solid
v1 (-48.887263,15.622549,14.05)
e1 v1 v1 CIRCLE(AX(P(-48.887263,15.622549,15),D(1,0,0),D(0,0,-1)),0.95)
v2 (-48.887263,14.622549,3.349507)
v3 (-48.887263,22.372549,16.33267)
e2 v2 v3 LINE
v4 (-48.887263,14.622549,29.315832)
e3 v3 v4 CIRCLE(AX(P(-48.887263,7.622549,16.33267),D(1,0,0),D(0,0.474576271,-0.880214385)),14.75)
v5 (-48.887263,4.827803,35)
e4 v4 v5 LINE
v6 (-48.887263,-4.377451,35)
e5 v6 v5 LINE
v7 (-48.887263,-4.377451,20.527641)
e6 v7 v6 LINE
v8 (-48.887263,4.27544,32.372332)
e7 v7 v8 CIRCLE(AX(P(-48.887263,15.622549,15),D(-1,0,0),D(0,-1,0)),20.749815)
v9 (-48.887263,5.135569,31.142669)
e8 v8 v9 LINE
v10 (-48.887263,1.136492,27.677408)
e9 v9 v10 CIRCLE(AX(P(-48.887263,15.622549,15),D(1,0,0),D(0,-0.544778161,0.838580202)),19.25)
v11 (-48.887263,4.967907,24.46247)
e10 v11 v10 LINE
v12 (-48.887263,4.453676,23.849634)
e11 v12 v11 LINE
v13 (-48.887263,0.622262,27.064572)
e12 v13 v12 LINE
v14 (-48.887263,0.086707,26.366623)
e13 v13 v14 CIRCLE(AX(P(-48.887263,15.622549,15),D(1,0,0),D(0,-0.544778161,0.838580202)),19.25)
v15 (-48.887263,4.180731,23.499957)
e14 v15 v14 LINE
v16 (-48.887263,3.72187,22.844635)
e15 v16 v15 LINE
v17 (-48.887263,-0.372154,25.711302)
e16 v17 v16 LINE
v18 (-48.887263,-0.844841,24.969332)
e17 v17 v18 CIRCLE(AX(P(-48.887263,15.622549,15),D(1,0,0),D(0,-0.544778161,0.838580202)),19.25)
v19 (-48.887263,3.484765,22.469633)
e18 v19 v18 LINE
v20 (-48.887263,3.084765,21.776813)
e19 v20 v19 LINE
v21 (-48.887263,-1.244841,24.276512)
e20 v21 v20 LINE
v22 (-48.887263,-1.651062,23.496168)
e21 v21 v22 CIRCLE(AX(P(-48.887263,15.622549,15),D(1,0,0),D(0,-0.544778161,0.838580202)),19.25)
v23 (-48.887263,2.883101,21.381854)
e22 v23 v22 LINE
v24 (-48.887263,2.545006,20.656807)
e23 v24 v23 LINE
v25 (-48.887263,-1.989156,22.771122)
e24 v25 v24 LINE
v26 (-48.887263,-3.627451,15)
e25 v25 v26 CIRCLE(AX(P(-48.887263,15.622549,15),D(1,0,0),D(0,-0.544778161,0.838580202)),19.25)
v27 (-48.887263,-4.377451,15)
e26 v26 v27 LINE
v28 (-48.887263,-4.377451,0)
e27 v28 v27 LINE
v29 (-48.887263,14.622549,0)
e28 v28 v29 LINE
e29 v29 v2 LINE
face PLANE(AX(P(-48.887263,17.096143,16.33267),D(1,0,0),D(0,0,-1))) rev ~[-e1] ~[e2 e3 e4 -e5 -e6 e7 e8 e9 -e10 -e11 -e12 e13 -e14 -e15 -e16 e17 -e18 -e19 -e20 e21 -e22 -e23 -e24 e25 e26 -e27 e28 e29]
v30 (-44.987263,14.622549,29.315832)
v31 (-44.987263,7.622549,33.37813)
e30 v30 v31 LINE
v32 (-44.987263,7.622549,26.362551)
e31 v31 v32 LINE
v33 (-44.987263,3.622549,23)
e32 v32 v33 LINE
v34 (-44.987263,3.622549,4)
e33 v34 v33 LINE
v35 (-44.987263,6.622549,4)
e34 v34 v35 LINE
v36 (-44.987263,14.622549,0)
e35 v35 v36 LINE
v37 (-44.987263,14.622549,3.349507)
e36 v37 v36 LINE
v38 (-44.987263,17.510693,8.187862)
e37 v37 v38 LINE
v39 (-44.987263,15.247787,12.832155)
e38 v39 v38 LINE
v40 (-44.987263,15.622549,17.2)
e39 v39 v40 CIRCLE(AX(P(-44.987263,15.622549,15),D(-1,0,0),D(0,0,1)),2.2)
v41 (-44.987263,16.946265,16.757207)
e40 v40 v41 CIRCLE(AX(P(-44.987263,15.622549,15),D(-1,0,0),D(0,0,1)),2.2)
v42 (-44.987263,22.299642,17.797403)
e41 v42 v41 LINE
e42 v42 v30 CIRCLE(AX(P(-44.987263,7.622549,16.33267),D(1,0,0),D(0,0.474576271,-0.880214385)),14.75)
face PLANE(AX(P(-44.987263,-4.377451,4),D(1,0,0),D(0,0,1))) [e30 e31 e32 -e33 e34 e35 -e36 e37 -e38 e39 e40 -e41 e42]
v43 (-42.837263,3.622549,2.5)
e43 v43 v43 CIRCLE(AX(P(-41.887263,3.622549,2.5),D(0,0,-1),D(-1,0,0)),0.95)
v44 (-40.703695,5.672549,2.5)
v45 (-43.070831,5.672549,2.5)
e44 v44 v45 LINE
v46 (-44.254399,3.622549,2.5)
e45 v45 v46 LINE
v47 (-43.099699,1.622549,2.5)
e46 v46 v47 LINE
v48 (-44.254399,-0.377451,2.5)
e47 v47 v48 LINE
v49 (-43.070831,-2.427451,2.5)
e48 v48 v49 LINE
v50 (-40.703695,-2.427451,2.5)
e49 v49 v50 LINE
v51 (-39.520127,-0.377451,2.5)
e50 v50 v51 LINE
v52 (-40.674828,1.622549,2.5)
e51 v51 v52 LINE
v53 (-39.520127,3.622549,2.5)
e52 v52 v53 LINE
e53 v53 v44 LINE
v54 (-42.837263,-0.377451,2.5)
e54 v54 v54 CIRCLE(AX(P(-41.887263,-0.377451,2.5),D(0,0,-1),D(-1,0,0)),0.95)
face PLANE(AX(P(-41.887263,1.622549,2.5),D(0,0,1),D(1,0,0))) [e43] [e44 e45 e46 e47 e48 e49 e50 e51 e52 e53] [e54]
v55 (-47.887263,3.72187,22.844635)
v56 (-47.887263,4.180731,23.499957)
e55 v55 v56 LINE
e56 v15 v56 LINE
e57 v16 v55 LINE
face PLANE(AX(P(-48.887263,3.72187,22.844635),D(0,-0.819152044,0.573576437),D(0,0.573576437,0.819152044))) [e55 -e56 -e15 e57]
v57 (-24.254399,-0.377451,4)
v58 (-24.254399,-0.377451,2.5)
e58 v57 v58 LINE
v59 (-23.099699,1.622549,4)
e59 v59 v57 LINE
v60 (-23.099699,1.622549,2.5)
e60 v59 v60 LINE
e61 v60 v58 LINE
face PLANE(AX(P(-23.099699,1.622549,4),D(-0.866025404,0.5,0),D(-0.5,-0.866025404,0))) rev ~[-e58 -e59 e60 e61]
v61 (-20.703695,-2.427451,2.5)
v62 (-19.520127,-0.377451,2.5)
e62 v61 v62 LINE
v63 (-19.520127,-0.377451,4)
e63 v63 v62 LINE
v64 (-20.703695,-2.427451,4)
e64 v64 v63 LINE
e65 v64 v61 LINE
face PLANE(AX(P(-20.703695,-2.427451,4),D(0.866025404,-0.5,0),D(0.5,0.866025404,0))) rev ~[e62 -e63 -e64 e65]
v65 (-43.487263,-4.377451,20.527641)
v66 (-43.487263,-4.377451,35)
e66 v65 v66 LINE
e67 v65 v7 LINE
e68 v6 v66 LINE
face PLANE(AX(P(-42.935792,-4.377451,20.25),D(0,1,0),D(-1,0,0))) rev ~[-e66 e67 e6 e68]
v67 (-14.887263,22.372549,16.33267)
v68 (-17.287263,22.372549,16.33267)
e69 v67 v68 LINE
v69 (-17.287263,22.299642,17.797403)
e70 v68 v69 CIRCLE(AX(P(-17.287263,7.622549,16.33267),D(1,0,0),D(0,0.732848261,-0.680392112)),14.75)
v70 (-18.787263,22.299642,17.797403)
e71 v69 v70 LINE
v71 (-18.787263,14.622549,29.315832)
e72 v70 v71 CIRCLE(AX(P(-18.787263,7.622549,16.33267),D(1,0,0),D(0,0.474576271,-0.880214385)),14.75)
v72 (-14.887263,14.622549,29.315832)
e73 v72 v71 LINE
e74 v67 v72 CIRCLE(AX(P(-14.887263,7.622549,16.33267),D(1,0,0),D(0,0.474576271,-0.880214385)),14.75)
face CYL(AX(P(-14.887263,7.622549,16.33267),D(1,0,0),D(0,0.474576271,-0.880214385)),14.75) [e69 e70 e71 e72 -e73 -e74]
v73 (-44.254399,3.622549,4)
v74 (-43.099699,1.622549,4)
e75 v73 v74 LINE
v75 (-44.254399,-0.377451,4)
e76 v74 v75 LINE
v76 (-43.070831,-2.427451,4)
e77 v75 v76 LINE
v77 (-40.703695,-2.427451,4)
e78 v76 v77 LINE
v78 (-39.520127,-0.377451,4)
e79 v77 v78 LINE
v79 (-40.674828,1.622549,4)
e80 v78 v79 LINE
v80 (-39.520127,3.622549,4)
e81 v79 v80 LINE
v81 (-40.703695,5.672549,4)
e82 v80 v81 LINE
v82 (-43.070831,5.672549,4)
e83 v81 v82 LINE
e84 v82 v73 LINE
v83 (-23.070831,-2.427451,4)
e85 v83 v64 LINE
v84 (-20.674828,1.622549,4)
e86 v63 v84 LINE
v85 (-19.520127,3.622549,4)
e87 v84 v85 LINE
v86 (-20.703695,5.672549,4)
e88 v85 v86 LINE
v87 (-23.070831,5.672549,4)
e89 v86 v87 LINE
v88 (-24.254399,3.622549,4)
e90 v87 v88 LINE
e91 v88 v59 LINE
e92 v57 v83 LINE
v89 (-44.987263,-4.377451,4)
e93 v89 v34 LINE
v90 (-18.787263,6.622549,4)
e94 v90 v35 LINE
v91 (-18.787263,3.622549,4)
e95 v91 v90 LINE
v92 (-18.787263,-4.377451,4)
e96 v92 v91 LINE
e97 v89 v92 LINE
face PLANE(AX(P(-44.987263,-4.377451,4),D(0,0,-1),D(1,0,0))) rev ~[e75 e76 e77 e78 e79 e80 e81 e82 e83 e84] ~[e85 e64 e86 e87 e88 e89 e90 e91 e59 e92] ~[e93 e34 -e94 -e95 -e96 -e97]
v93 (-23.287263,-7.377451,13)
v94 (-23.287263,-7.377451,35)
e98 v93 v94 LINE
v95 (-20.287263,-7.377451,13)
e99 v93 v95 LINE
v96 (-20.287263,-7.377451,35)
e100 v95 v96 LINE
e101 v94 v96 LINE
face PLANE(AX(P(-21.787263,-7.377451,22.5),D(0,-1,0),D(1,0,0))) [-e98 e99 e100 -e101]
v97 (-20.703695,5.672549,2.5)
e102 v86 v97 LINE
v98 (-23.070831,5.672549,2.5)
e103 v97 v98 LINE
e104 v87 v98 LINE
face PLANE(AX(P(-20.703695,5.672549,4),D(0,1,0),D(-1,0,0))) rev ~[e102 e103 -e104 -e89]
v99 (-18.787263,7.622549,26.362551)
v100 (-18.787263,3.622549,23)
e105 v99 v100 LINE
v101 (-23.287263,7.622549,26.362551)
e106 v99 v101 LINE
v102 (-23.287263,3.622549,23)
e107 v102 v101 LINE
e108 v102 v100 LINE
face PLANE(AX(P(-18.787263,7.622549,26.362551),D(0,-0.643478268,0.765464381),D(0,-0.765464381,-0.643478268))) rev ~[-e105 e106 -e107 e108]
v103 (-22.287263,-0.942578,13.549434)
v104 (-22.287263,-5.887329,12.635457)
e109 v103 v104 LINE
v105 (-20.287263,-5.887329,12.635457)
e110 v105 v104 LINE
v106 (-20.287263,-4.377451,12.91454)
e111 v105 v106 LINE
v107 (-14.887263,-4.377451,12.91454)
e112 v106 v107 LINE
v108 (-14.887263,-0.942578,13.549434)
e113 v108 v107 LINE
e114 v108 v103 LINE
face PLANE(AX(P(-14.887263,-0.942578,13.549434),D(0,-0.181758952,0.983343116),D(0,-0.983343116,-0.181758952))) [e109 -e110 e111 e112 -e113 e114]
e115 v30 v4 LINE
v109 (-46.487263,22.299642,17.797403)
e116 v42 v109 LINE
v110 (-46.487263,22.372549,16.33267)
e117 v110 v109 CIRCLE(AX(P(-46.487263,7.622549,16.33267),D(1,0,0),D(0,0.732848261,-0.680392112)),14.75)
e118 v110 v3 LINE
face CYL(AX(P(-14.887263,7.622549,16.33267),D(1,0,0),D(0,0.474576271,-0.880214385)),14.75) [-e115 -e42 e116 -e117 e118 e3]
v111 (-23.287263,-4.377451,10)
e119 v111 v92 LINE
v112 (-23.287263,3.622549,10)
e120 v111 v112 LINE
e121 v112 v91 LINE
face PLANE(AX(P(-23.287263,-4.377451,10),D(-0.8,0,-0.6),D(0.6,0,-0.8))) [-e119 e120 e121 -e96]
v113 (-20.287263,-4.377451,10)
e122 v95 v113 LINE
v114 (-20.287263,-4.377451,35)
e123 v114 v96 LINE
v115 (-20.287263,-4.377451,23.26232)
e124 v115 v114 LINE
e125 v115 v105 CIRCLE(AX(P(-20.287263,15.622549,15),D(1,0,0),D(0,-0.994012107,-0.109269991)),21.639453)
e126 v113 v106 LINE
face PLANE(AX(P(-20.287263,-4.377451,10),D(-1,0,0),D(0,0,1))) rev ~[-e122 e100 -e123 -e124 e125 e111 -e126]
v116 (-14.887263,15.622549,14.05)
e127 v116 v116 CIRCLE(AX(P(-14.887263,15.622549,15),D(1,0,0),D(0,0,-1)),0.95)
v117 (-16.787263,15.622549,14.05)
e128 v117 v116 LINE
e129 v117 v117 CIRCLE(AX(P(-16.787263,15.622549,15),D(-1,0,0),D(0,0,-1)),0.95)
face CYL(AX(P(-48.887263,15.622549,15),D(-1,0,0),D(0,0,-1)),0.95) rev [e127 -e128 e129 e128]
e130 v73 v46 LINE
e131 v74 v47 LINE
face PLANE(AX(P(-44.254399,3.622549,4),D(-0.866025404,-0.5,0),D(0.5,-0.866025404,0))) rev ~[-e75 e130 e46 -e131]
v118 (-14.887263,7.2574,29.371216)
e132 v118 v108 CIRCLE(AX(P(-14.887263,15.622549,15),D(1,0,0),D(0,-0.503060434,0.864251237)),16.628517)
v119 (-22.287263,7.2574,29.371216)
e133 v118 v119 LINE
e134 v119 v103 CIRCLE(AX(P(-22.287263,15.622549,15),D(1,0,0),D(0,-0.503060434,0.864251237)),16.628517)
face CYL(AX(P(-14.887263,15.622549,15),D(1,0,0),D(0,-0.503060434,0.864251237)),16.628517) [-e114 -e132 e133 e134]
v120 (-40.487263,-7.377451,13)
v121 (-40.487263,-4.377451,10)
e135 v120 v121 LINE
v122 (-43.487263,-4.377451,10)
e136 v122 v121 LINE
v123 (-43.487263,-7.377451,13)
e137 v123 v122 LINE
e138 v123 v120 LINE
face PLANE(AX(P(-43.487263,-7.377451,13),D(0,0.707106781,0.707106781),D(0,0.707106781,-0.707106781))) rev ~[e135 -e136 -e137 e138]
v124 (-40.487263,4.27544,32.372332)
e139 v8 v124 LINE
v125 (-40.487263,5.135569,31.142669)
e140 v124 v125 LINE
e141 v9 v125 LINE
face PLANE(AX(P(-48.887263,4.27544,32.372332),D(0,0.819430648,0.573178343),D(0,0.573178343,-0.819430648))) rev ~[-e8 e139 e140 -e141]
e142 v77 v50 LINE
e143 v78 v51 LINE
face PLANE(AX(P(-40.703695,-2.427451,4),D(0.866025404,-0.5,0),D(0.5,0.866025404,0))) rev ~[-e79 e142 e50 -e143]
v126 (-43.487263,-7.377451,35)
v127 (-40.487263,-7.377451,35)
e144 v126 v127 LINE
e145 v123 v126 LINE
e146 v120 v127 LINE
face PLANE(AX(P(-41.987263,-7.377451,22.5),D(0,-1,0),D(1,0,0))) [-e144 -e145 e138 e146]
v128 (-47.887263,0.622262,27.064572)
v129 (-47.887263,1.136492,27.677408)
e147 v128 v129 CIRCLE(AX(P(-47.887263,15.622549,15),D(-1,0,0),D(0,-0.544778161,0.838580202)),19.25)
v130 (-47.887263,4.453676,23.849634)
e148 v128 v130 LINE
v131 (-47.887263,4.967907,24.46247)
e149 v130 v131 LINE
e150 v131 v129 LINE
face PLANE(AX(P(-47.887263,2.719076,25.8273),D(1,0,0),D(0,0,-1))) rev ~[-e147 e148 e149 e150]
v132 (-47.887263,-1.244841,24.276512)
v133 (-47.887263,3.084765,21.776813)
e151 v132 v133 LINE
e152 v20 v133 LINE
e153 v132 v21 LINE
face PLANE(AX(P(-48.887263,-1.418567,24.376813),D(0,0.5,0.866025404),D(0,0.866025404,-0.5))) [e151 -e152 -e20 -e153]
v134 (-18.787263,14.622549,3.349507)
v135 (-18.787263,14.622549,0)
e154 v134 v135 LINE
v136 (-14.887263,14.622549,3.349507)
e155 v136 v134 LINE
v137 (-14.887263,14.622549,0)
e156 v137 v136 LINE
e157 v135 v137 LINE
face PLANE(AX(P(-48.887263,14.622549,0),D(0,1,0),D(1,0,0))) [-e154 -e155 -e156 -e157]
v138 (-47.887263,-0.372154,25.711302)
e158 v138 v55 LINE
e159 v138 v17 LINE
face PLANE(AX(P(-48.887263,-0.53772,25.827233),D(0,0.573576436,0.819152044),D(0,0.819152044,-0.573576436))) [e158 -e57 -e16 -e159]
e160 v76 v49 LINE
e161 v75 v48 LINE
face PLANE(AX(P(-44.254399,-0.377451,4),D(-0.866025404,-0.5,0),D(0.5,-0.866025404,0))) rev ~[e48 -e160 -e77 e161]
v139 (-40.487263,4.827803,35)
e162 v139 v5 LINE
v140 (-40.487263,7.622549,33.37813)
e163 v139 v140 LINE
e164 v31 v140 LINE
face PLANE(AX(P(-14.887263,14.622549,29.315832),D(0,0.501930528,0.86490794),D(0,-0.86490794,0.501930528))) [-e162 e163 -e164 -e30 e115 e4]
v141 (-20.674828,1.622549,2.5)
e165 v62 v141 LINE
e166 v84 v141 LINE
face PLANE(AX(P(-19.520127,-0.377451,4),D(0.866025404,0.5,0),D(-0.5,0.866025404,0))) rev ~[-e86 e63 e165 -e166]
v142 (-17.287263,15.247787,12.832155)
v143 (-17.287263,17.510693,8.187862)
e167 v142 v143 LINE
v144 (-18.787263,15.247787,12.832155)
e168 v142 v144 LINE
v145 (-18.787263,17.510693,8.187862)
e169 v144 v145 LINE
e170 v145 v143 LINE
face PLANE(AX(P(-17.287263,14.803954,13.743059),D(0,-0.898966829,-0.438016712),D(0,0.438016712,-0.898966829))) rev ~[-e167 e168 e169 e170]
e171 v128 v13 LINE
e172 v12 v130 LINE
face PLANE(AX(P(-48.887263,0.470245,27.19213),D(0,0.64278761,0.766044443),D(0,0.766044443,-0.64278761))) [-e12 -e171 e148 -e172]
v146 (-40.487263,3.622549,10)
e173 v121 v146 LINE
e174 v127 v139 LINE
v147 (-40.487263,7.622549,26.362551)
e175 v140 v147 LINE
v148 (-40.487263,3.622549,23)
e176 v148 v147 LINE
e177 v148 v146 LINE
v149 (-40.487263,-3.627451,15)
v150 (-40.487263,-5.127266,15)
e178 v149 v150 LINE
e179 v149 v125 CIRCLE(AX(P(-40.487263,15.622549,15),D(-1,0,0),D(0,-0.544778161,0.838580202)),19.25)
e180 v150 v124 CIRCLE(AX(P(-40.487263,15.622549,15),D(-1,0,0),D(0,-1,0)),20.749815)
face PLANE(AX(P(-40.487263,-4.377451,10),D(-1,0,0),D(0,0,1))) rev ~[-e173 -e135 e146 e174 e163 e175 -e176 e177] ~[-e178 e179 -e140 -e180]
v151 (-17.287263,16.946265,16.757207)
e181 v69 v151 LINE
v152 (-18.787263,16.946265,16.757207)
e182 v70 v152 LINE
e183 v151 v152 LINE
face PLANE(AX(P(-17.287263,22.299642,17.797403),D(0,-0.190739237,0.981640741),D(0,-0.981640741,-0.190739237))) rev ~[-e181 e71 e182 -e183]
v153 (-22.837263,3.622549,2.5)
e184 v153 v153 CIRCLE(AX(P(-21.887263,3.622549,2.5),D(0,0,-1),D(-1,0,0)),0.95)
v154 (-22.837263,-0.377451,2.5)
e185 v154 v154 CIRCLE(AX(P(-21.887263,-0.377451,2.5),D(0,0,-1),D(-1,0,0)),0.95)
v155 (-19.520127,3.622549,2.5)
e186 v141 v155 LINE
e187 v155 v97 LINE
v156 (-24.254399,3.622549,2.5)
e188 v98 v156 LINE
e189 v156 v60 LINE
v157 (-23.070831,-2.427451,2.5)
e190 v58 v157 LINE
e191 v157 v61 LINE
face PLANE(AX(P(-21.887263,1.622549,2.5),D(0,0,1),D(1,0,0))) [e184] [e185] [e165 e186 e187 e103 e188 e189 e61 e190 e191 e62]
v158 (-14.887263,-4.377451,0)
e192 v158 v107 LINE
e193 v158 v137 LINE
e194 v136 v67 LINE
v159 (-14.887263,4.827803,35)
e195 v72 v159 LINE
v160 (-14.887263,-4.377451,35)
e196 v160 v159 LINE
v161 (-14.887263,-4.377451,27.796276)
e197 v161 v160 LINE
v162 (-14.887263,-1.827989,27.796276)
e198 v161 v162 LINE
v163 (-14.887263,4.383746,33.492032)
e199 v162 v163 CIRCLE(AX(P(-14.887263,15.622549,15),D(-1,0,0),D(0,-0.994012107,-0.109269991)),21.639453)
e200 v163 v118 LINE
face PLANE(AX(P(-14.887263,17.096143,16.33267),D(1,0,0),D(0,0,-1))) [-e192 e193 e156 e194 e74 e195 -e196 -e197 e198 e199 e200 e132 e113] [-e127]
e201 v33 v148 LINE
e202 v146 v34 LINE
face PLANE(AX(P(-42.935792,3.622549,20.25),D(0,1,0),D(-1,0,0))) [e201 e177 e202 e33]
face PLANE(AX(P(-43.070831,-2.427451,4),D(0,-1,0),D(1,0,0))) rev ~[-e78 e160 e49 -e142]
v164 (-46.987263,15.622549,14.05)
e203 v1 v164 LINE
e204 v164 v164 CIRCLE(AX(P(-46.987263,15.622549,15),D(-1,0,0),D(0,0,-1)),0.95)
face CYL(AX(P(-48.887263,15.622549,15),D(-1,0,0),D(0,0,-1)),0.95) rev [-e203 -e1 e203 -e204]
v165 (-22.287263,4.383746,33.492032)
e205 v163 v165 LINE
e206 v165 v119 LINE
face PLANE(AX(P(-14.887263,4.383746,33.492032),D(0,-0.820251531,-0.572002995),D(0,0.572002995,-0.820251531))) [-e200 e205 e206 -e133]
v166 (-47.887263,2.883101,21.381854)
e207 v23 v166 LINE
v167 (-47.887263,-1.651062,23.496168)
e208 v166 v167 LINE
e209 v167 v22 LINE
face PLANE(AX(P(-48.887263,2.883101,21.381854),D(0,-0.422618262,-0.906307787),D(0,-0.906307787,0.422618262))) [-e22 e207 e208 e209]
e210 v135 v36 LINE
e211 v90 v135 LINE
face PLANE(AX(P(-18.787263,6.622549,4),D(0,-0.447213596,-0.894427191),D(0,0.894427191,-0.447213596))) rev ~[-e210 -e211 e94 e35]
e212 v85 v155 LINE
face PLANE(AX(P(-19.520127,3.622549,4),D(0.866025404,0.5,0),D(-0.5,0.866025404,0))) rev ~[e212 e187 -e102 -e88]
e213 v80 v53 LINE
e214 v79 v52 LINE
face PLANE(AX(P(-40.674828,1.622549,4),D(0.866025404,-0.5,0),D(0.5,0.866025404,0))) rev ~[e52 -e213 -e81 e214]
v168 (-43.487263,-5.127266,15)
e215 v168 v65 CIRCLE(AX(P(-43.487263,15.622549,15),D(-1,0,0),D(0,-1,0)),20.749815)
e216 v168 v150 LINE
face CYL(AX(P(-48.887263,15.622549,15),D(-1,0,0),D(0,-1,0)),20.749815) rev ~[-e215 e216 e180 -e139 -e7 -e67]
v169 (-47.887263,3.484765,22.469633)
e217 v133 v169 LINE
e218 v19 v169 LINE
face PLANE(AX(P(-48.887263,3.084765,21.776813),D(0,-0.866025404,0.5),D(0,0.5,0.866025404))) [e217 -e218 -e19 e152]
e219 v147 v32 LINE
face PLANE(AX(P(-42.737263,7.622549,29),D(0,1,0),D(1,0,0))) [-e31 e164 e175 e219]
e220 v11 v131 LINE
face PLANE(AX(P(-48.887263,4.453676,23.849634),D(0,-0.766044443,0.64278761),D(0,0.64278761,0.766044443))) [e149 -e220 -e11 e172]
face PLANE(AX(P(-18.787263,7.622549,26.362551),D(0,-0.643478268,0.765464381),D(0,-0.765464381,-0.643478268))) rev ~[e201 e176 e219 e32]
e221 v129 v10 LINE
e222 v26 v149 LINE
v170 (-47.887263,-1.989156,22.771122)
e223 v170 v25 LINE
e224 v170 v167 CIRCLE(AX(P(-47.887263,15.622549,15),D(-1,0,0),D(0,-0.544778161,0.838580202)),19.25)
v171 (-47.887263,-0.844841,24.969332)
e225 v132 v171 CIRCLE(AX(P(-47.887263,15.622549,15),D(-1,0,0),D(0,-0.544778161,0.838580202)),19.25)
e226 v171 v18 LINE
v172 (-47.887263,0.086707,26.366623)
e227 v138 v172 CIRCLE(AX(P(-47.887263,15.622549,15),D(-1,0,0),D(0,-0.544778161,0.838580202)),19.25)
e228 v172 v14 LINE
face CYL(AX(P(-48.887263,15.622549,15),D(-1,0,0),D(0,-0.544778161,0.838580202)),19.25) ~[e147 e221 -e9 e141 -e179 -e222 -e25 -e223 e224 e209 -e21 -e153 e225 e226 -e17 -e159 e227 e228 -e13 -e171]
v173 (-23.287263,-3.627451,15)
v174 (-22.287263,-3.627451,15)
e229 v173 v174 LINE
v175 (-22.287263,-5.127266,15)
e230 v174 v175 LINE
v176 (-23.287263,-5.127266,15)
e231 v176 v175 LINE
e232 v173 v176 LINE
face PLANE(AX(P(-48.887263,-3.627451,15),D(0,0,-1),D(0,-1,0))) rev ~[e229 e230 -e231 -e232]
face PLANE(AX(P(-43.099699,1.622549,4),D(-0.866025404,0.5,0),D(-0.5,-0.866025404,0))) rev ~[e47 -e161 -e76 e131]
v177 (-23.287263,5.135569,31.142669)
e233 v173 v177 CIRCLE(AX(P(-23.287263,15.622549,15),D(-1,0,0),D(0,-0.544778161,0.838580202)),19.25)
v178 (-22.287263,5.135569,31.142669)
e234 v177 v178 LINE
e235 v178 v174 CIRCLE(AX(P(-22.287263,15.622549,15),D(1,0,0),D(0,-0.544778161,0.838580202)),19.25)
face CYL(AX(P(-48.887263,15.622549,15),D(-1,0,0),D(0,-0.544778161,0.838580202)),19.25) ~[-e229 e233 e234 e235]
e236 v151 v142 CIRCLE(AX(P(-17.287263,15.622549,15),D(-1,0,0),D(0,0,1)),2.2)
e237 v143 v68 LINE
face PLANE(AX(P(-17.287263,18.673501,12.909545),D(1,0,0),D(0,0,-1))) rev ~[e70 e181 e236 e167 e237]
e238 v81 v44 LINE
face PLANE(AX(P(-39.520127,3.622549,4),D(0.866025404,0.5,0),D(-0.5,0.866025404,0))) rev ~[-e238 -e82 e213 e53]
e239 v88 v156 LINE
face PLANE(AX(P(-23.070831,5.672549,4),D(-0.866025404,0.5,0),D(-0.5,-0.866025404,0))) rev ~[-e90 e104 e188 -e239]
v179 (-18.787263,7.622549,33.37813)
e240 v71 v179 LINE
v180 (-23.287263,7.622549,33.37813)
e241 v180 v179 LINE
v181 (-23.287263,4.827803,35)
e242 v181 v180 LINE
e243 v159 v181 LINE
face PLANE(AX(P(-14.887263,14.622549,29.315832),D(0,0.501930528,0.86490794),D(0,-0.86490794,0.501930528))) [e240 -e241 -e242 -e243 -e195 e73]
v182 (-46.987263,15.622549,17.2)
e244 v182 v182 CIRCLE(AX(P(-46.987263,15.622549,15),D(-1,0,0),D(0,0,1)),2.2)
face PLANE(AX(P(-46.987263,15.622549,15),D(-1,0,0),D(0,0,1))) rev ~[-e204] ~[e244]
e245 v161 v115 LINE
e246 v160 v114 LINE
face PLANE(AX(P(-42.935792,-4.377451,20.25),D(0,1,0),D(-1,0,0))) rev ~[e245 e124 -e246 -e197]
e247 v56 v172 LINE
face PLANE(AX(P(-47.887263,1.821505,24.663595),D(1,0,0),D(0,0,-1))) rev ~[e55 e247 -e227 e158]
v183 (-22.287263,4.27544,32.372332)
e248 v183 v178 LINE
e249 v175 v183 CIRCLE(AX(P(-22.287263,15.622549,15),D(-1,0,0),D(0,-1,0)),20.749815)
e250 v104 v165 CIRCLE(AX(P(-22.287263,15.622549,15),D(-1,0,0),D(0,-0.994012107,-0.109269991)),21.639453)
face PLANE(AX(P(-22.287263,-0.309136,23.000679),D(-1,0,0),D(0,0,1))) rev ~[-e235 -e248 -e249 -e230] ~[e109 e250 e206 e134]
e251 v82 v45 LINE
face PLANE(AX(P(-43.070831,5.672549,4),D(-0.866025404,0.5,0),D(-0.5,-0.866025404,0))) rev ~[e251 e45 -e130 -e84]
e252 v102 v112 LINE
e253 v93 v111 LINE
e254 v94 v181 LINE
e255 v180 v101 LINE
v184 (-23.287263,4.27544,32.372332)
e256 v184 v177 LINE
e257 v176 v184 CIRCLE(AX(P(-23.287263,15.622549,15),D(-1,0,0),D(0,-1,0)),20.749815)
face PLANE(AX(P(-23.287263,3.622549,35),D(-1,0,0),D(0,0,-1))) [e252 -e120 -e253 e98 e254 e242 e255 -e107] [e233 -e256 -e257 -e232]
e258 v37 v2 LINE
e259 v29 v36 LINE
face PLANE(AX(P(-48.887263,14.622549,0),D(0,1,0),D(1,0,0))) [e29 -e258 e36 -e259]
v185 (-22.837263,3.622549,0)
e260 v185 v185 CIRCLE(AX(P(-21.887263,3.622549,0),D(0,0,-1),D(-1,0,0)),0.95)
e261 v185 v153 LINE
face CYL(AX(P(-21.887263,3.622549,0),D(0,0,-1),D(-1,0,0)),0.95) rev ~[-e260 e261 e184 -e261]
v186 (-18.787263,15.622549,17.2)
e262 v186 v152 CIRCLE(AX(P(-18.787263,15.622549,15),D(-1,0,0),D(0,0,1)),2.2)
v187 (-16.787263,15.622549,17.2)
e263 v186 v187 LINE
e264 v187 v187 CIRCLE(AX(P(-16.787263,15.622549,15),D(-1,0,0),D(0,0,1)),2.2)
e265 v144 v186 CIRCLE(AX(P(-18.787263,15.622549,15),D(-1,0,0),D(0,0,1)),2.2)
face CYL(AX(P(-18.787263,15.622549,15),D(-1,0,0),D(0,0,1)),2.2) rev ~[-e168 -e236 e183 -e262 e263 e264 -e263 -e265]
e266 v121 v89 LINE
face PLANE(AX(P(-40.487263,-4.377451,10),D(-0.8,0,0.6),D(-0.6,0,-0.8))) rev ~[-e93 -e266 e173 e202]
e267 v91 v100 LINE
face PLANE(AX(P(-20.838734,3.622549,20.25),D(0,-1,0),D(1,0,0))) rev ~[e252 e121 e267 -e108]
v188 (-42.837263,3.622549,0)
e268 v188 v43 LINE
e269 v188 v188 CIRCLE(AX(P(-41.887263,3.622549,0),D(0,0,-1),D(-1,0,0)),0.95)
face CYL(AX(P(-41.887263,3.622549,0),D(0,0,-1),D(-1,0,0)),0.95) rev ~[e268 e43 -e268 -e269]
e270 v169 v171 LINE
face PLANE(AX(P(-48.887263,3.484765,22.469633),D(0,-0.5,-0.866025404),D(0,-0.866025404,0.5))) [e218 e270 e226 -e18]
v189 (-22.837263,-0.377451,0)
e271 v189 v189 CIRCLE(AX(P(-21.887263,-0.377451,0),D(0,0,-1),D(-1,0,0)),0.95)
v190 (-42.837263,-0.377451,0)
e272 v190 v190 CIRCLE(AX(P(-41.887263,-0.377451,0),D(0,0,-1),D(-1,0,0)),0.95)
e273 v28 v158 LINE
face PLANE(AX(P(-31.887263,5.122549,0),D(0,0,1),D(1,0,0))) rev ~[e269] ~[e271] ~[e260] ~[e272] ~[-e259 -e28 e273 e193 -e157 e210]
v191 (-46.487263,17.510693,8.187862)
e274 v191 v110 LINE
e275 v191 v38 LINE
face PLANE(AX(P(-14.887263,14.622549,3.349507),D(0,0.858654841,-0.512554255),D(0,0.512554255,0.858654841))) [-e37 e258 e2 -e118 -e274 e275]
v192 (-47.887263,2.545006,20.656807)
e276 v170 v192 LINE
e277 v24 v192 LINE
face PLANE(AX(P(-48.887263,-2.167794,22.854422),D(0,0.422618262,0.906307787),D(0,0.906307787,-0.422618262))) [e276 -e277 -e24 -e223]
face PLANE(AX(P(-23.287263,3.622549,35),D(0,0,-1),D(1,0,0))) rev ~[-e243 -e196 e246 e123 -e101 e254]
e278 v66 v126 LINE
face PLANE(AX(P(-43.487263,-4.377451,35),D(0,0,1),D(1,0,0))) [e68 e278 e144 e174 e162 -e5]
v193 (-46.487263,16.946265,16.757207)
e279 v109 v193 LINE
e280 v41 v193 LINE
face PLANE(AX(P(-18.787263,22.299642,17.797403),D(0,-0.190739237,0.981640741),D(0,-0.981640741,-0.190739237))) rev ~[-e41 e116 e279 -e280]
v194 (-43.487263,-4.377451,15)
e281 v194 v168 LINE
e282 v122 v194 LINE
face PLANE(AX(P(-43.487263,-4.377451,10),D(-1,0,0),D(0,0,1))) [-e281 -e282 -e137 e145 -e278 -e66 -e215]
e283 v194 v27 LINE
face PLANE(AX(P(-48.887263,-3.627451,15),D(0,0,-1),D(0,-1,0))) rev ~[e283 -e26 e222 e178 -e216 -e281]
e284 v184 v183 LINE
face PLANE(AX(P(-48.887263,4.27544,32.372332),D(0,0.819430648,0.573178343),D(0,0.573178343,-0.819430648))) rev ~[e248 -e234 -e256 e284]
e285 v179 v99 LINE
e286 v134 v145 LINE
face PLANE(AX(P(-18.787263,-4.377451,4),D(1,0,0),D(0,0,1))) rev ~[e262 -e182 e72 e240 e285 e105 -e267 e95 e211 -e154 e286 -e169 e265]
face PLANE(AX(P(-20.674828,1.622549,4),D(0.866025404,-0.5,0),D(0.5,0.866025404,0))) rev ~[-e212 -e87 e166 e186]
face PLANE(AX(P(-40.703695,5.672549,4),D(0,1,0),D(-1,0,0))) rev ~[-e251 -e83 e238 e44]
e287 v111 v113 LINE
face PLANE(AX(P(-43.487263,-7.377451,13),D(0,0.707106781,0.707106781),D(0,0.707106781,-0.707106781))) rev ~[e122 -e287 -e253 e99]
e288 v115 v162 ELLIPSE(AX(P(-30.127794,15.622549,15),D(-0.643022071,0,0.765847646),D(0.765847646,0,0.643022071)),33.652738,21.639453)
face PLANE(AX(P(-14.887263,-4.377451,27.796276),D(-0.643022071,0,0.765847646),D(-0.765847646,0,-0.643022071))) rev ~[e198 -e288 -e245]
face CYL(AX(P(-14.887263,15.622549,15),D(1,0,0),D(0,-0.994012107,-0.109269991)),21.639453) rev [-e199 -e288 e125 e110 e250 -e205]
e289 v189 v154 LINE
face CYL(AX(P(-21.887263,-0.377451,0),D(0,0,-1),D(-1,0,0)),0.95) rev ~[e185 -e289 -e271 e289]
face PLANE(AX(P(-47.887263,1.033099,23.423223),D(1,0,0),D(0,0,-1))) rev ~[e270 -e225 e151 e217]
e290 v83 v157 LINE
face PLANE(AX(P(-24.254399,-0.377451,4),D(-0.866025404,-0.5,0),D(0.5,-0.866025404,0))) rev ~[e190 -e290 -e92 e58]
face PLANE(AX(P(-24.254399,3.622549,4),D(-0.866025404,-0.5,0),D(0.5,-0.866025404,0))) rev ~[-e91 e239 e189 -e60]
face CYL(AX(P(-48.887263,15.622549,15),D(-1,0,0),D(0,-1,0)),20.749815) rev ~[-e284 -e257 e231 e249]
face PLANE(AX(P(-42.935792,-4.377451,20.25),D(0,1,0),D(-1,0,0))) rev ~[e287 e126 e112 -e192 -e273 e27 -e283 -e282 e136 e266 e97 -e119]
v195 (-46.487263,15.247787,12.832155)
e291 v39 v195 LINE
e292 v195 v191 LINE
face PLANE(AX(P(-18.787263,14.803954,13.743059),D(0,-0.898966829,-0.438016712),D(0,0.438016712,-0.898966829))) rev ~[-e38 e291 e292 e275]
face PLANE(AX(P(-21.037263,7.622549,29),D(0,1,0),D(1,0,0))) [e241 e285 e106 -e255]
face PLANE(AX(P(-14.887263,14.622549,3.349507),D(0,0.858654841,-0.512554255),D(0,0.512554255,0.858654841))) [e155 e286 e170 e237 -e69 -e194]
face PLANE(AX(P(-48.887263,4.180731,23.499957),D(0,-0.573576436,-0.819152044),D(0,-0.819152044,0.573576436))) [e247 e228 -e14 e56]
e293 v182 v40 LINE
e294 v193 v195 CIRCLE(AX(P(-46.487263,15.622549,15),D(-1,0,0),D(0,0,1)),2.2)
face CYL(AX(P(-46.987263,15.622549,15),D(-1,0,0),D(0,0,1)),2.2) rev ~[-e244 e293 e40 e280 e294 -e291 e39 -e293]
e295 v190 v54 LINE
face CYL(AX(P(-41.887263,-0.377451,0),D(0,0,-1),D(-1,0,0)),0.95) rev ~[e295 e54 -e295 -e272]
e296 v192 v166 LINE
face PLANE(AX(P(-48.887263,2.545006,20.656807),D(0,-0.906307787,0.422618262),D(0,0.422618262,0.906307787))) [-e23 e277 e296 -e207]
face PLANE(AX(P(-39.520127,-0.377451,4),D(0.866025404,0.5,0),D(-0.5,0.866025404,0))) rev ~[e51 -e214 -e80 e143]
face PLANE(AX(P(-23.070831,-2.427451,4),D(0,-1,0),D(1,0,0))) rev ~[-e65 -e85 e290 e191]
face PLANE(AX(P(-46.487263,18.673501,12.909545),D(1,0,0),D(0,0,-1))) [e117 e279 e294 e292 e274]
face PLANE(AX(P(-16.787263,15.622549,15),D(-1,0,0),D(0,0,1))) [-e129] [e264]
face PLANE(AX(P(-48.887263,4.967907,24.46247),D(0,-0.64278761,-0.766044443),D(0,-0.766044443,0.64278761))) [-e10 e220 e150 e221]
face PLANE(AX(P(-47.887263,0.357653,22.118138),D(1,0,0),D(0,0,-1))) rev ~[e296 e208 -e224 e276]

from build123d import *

# Parameters (mm, degrees)
CROQUIS1_W              = 34
CROQUIS1_H              = 19
SALIENTE_EXTRUIR1_DEPTH = 35
CROQUIS2_W              = 26.2
CROQUIS2_H              = 31
CORTAR_EXTRUIR1_DEPTH   = 25
CORTAR_EXTRUIR3_DEPTH   = 26.2
SALIENTE_EXTRUIR2_DEPTH = 34
CROQUIS10_W             = 26.2
CROQUIS10_H             = 25.966324345
CORTAR_EXTRUIR4_DEPTH   = 10
CROQUIS18_R             = 0.95
CORTAR_EXTRUIR11_DEPTH  = 4
CORTAR_EXTRUIR12_DEPTH  = 1.5
CORTAR_EXTRUIR14_START  = -34
CROQUIS21_R             = 0.95
CORTAR_EXTRUIR14_DEPTH  = 34
SALIENTE_EXTRUIR3_DEPTH = 8
CROQUIS25_W             = 3
CROQUIS25_H             = 25
SALIENTE_EXTRUIR4_DEPTH = 3
CROQUIS43_W             = 4.5
CROQUIS43_H             = 12
SALIENTE_EXTRUIR8_DEPTH = 4
CORTAR_EXTRUIR18_DEPTH  = 7.4
CORTAR_EXTRUIR16_START  = -34
CORTAR_EXTRUIR16_DEPTH  = 26.6
CORTAR_EXTRUIR20_START  = -1.5
CORTAR_EXTRUIR20_DEPTH  = 1.5
CORTAR_EXTRUIR21_DEPTH  = 27.7
CORTAR_EXTRUIR22_START  = -34
CORTAR_EXTRUIR22_DEPTH  = 34
CORTAR_EXTRUIR23_DEPTH  = 3
CROQUIS36_R             = 2.2
CORTAR_EXTRUIR24_DEPTH  = 2
CORTAR_EXTRUIR25_START  = 28.2
CROQUIS36_2_R           = 2.2
CORTAR_EXTRUIR25_DEPTH  = 28.2
CORTAR_EXTRUIR26_START  = -34
CORTAR_EXTRUIR26_DEPTH  = 34
CORTAR_EXTRUIR27_DEPTH  = 1
CORTAR_EXTRUIR28_START  = -23.2
CORTAR_EXTRUIR28_DEPTH  = 23.2
CORTAR_EXTRUIR29_DEPTH  = 26.2


with BuildPart() as part:
    # Croquis1 → Saliente-Extruir1 (new body)
    with BuildSketch(Plane.XY):
        with Locations((-31.887263086, 5.12254902)):
            Rectangle(CROQUIS1_W, CROQUIS1_H)
    extrude(amount=SALIENTE_EXTRUIR1_DEPTH)

    # Croquis2 → Cortar-Extruir1 (cut)
    with BuildSketch(Plane.XZ.offset(4.37745098)):
        with Locations((-31.887263086, 19.5)):
            Rectangle(CROQUIS2_W, CROQUIS2_H)
    extrude(amount=-CORTAR_EXTRUIR1_DEPTH, mode=Mode.SUBTRACT)

    # Croquis4 → Cortar-Extruir3 (cut)
    with BuildSketch(Plane.ZY.offset(18.787263086)):
        Polygon((4, 14.62254902), (4, 6.62254902), (0, 14.62254902), align=None)
    extrude(amount=CORTAR_EXTRUIR3_DEPTH, mode=Mode.SUBTRACT)

    # Croquis9 → Saliente-Extruir2 (add)
    with BuildSketch(Plane(origin=(-14.887263086, 0, 0), x_dir=(0, 0, -1), z_dir=(1, 0, 0))):
        with BuildLine():
            Line((-29.315831827, 14.62254902), (-3.349507482, 14.62254902))
            ThreePointArc((-3.349507482, 14.62254902), (-16.332669655, 22.37254902), (-29.315831827, 14.62254902))
        make_face()
    extrude(amount=-SALIENTE_EXTRUIR2_DEPTH)

    # Croquis10 → Cortar-Extruir4 (cut)
    with BuildSketch(Plane.XZ.offset(-14.62254902)):
        with Locations((-31.887263086, 16.332669655)):
            Rectangle(CROQUIS10_W, CROQUIS10_H)
    extrude(amount=-CORTAR_EXTRUIR4_DEPTH, mode=Mode.SUBTRACT)

    # Croquis18 → Cortar-Extruir11 (cut)
    with BuildSketch(Plane(origin=(0, 0, 0), x_dir=(-1, 0, 0), z_dir=(0, 0, -1))):
        with Locations((41.887263086, -0.37745098)):
            Circle(CROQUIS18_R)
        with Locations((21.887263086, -0.37745098)):
            Circle(CROQUIS18_R)
        with Locations((21.887263086, 3.62254902)):
            Circle(CROQUIS18_R)
        with Locations((41.887263086, 3.62254902)):
            Circle(CROQUIS18_R)
    extrude(amount=-CORTAR_EXTRUIR11_DEPTH, mode=Mode.SUBTRACT)

    # Croquis19 → Cortar-Extruir12 (cut)
    with BuildSketch(Plane.XY.offset(4)):
        Polygon((-39.520126982, -0.37745098), (-40.67482752, 1.62254902), (-39.520126982, 3.62254902), (-40.703695034, 5.67254902), (-43.070831137, 5.67254902), (-44.254399189, 3.62254902), (-43.099698651, 1.62254902), (-44.254399189, -0.37745098), (-43.070831137, -2.42745098), (-40.703695034, -2.42745098), align=None)
        Polygon((-19.520126982, -0.37745098), (-20.67482752, 1.62254902), (-19.520126982, 3.62254902), (-20.703695034, 5.67254902), (-23.070831137, 5.67254902), (-24.254399189, 3.62254902), (-23.099698651, 1.62254902), (-24.254399189, -0.37745098), (-23.070831137, -2.42745098), (-20.703695034, -2.42745098), align=None)
    extrude(amount=-CORTAR_EXTRUIR12_DEPTH, mode=Mode.SUBTRACT)

    # Croquis21 → Cortar-Extruir14 (cut)
    with BuildSketch(Plane(origin=(-14.887263086, 0, 0), x_dir=(0, 0, -1), z_dir=(1, 0, 0)).offset(CORTAR_EXTRUIR14_START)):
        with Locations((-15, 15.62254902)):
            Circle(CROQUIS21_R)
    extrude(amount=CORTAR_EXTRUIR14_DEPTH, mode=Mode.SUBTRACT)

    # Croquis23 → Saliente-Extruir3 (add)
    with BuildSketch(Plane.XZ.offset(4.37745098)):
        Polygon((-44.987263086, 35), (-40.487263086, 35), (-40.487263086, 10), (-44.987263086, 4), align=None)
        Polygon((-18.787263086, 35), (-23.287263086, 35), (-23.287263086, 10), (-18.787263086, 4), align=None)
    extrude(amount=-SALIENTE_EXTRUIR3_DEPTH)

    # Croquis25 → Saliente-Extruir4 (add)
    with BuildSketch(Plane.XZ.offset(4.37745098)):
        with Locations((-41.987263086, 22.5)):
            Rectangle(CROQUIS25_W, CROQUIS25_H)
        with Locations((-21.787263086, 22.5)):
            Rectangle(CROQUIS25_W, CROQUIS25_H)
    extrude(amount=SALIENTE_EXTRUIR4_DEPTH)

    # Croquis43 → Saliente-Extruir8 (add)
    with BuildSketch(Plane(origin=(0, 3.62254902, 0), x_dir=(1, 0, 0), z_dir=(0, 1, 0))):
        with Locations((-21.037263086, -29)):
            Rectangle(CROQUIS43_W, CROQUIS43_H)
        with Locations((-42.737263086, -29)):
            Rectangle(CROQUIS43_W, CROQUIS43_H)
    extrude(amount=SALIENTE_EXTRUIR8_DEPTH)

    # Croquis27 → Cortar-Extruir18 (cut)
    with BuildSketch(Plane(origin=(-14.887263086, 0, 0), x_dir=(0, 0, -1), z_dir=(1, 0, 0))):
        with BuildLine():
            Line((-13.549434023, -0.942577786), (-12.635457129, -5.887329478))
            ThreePointArc((-12.635457129, -5.887329478), (-24.560215782, -3.790544761), (-33.492032026, 4.383746258))
            Line((-33.492032026, 4.383746258), (-29.371216121, 7.25740019))
            ThreePointArc((-29.371216121, 7.25740019), (-22.651516826, 0.859017666), (-13.549434023, -0.942577786))
        make_face()
    extrude(amount=-CORTAR_EXTRUIR18_DEPTH, mode=Mode.SUBTRACT)

    # Croquis24 → Cortar-Extruir16 (cut)
    with BuildSketch(Plane(origin=(-14.887263086, 0, 0), x_dir=(0, 0, -1), z_dir=(1, 0, 0)).offset(CORTAR_EXTRUIR16_START)):
        with BuildLine():
            Line((-15, -3.62745098), (-15, -5.12726591))
            ThreePointArc((-15, -5.12726591), (-24.876851848, -2.625810281), (-32.372332418, 4.275439874))
            Line((-32.372332418, 4.275439874), (-31.142668885, 5.135569413))
            ThreePointArc((-31.142668885, 5.135569413), (-24.183902835, -1.295442254), (-15, -3.62745098))
        make_face()
    extrude(amount=CORTAR_EXTRUIR16_DEPTH, mode=Mode.SUBTRACT)

    # Croquis29 → Cortar-Extruir20 (cut)
    with BuildSketch(Plane.ZY.offset(18.787263086).offset(CORTAR_EXTRUIR20_START)):
        with BuildLine():
            Line((17.797402962, 22.299641931), (16.5, 15.62254902))
            ThreePointArc((16.5, 15.62254902), (15.426958984, 14.184596995), (13.743058632, 14.803953638))
            Line((13.743058632, 14.803953638), (6.296886003, 18.432060872))
            ThreePointArc((6.296886003, 18.432060872), (11.631045274, 21.603150873), (17.797402962, 22.299641931))
        make_face()
    extrude(amount=CORTAR_EXTRUIR20_DEPTH, mode=Mode.SUBTRACT)

    # Croquis29<2> → Cortar-Extruir21 (cut)
    with BuildSketch(Plane.ZY.offset(18.787263086)):
        with BuildLine():
            Line((17.797402962, 22.299641931), (16.5, 15.62254902))
            ThreePointArc((16.5, 15.62254902), (15.426958984, 14.184596995), (13.743058632, 14.803953638))
            Line((13.743058632, 14.803953638), (6.296886003, 18.432060872))
            ThreePointArc((6.296886003, 18.432060872), (11.631045274, 21.603150873), (17.797402962, 22.299641931))
        make_face()
    extrude(amount=CORTAR_EXTRUIR21_DEPTH, mode=Mode.SUBTRACT)

    # Croquis30 → Cortar-Extruir22 (cut)
    with BuildSketch(Plane.ZY.offset(48.887263086).offset(CORTAR_EXTRUIR22_START)):
        Polygon((29.315831827, 14.62254902), (35, 4.827802707), (35, 14.62254902), align=None)
    extrude(amount=CORTAR_EXTRUIR22_DEPTH, mode=Mode.SUBTRACT)

    # Croquis35 → Cortar-Extruir23 (cut)
    with BuildSketch(Plane.XZ.offset(4.37745098)):
        Polygon((-20.287263086, 23.262320252), (-14.887263086, 23.262320252), (-14.887263086, 27.796275801), align=None)
    extrude(amount=-CORTAR_EXTRUIR23_DEPTH, mode=Mode.SUBTRACT)

    # Croquis36 → Cortar-Extruir24 (cut)
    with BuildSketch(Plane.ZY.offset(18.787263086)):
        with Locations((15, 15.62254902)):
            Circle(CROQUIS36_R)
    extrude(amount=-CORTAR_EXTRUIR24_DEPTH, mode=Mode.SUBTRACT)

    # Croquis36<2> → Cortar-Extruir25 (cut)
    with BuildSketch(Plane.ZY.offset(18.787263086).offset(CORTAR_EXTRUIR25_START)):
        with Locations((15, 15.62254902)):
            Circle(CROQUIS36_2_R)
    extrude(amount=-CORTAR_EXTRUIR25_DEPTH, mode=Mode.SUBTRACT)

    # Croquis38 → Cortar-Extruir26 (cut)
    with BuildSketch(Plane.ZY.offset(48.887263086).offset(CORTAR_EXTRUIR26_START)):
        Polygon((3.349507482, 14.62254902), (16.332669655, 22.37254902), (3.349507482, 22.37254902), align=None)
    extrude(amount=CORTAR_EXTRUIR26_DEPTH, mode=Mode.SUBTRACT)

    # Croquis40 → Cortar-Extruir27 (cut)
    with BuildSketch(Plane.ZY.offset(48.887263086)):
        Polygon((24.462469518, 4.967906508), (27.804965088, 0.984475403), (27.192129534, 0.470245316), (23.849633963, 4.45367642), align=None)
        Polygon((23.499956861, 4.180731289), (26.48255433, -0.078859342), (25.827232695, -0.537720491), (22.844635226, 3.72187014), align=None)
        Polygon((22.469633136, 3.484764914), (25.069633136, -1.018567186), (24.376812813, -1.418567186), (21.776812813, 3.084764914), align=None)
        Polygon((21.381853505, 2.883100647), (23.579468466, -1.829699846), (22.854422236, -2.167794455), (20.656807275, 2.545006037), align=None)
    extrude(amount=-CORTAR_EXTRUIR27_DEPTH, mode=Mode.SUBTRACT)

    # Croquis41 → Cortar-Extruir28 (cut)
    with BuildSketch(Plane(origin=(-20.287263086, 0, 0), x_dir=(0, 0, -1), z_dir=(1, 0, 0)).offset(CORTAR_EXTRUIR28_START)):
        Polygon((-10, -4.37745098), (-10, -7.37745098), (-13, -7.37745098), align=None)
    extrude(amount=CORTAR_EXTRUIR28_DEPTH, mode=Mode.SUBTRACT)

    # Croquis44 → Cortar-Extruir29 (cut)
    with BuildSketch(Plane.ZY.offset(18.787263086)):
        Polygon((23, 7.62254902), (26.362551066, 7.62254902), (23, 3.62254902), align=None)
    extrude(amount=CORTAR_EXTRUIR29_DEPTH, mode=Mode.SUBTRACT)


solid = part.part
